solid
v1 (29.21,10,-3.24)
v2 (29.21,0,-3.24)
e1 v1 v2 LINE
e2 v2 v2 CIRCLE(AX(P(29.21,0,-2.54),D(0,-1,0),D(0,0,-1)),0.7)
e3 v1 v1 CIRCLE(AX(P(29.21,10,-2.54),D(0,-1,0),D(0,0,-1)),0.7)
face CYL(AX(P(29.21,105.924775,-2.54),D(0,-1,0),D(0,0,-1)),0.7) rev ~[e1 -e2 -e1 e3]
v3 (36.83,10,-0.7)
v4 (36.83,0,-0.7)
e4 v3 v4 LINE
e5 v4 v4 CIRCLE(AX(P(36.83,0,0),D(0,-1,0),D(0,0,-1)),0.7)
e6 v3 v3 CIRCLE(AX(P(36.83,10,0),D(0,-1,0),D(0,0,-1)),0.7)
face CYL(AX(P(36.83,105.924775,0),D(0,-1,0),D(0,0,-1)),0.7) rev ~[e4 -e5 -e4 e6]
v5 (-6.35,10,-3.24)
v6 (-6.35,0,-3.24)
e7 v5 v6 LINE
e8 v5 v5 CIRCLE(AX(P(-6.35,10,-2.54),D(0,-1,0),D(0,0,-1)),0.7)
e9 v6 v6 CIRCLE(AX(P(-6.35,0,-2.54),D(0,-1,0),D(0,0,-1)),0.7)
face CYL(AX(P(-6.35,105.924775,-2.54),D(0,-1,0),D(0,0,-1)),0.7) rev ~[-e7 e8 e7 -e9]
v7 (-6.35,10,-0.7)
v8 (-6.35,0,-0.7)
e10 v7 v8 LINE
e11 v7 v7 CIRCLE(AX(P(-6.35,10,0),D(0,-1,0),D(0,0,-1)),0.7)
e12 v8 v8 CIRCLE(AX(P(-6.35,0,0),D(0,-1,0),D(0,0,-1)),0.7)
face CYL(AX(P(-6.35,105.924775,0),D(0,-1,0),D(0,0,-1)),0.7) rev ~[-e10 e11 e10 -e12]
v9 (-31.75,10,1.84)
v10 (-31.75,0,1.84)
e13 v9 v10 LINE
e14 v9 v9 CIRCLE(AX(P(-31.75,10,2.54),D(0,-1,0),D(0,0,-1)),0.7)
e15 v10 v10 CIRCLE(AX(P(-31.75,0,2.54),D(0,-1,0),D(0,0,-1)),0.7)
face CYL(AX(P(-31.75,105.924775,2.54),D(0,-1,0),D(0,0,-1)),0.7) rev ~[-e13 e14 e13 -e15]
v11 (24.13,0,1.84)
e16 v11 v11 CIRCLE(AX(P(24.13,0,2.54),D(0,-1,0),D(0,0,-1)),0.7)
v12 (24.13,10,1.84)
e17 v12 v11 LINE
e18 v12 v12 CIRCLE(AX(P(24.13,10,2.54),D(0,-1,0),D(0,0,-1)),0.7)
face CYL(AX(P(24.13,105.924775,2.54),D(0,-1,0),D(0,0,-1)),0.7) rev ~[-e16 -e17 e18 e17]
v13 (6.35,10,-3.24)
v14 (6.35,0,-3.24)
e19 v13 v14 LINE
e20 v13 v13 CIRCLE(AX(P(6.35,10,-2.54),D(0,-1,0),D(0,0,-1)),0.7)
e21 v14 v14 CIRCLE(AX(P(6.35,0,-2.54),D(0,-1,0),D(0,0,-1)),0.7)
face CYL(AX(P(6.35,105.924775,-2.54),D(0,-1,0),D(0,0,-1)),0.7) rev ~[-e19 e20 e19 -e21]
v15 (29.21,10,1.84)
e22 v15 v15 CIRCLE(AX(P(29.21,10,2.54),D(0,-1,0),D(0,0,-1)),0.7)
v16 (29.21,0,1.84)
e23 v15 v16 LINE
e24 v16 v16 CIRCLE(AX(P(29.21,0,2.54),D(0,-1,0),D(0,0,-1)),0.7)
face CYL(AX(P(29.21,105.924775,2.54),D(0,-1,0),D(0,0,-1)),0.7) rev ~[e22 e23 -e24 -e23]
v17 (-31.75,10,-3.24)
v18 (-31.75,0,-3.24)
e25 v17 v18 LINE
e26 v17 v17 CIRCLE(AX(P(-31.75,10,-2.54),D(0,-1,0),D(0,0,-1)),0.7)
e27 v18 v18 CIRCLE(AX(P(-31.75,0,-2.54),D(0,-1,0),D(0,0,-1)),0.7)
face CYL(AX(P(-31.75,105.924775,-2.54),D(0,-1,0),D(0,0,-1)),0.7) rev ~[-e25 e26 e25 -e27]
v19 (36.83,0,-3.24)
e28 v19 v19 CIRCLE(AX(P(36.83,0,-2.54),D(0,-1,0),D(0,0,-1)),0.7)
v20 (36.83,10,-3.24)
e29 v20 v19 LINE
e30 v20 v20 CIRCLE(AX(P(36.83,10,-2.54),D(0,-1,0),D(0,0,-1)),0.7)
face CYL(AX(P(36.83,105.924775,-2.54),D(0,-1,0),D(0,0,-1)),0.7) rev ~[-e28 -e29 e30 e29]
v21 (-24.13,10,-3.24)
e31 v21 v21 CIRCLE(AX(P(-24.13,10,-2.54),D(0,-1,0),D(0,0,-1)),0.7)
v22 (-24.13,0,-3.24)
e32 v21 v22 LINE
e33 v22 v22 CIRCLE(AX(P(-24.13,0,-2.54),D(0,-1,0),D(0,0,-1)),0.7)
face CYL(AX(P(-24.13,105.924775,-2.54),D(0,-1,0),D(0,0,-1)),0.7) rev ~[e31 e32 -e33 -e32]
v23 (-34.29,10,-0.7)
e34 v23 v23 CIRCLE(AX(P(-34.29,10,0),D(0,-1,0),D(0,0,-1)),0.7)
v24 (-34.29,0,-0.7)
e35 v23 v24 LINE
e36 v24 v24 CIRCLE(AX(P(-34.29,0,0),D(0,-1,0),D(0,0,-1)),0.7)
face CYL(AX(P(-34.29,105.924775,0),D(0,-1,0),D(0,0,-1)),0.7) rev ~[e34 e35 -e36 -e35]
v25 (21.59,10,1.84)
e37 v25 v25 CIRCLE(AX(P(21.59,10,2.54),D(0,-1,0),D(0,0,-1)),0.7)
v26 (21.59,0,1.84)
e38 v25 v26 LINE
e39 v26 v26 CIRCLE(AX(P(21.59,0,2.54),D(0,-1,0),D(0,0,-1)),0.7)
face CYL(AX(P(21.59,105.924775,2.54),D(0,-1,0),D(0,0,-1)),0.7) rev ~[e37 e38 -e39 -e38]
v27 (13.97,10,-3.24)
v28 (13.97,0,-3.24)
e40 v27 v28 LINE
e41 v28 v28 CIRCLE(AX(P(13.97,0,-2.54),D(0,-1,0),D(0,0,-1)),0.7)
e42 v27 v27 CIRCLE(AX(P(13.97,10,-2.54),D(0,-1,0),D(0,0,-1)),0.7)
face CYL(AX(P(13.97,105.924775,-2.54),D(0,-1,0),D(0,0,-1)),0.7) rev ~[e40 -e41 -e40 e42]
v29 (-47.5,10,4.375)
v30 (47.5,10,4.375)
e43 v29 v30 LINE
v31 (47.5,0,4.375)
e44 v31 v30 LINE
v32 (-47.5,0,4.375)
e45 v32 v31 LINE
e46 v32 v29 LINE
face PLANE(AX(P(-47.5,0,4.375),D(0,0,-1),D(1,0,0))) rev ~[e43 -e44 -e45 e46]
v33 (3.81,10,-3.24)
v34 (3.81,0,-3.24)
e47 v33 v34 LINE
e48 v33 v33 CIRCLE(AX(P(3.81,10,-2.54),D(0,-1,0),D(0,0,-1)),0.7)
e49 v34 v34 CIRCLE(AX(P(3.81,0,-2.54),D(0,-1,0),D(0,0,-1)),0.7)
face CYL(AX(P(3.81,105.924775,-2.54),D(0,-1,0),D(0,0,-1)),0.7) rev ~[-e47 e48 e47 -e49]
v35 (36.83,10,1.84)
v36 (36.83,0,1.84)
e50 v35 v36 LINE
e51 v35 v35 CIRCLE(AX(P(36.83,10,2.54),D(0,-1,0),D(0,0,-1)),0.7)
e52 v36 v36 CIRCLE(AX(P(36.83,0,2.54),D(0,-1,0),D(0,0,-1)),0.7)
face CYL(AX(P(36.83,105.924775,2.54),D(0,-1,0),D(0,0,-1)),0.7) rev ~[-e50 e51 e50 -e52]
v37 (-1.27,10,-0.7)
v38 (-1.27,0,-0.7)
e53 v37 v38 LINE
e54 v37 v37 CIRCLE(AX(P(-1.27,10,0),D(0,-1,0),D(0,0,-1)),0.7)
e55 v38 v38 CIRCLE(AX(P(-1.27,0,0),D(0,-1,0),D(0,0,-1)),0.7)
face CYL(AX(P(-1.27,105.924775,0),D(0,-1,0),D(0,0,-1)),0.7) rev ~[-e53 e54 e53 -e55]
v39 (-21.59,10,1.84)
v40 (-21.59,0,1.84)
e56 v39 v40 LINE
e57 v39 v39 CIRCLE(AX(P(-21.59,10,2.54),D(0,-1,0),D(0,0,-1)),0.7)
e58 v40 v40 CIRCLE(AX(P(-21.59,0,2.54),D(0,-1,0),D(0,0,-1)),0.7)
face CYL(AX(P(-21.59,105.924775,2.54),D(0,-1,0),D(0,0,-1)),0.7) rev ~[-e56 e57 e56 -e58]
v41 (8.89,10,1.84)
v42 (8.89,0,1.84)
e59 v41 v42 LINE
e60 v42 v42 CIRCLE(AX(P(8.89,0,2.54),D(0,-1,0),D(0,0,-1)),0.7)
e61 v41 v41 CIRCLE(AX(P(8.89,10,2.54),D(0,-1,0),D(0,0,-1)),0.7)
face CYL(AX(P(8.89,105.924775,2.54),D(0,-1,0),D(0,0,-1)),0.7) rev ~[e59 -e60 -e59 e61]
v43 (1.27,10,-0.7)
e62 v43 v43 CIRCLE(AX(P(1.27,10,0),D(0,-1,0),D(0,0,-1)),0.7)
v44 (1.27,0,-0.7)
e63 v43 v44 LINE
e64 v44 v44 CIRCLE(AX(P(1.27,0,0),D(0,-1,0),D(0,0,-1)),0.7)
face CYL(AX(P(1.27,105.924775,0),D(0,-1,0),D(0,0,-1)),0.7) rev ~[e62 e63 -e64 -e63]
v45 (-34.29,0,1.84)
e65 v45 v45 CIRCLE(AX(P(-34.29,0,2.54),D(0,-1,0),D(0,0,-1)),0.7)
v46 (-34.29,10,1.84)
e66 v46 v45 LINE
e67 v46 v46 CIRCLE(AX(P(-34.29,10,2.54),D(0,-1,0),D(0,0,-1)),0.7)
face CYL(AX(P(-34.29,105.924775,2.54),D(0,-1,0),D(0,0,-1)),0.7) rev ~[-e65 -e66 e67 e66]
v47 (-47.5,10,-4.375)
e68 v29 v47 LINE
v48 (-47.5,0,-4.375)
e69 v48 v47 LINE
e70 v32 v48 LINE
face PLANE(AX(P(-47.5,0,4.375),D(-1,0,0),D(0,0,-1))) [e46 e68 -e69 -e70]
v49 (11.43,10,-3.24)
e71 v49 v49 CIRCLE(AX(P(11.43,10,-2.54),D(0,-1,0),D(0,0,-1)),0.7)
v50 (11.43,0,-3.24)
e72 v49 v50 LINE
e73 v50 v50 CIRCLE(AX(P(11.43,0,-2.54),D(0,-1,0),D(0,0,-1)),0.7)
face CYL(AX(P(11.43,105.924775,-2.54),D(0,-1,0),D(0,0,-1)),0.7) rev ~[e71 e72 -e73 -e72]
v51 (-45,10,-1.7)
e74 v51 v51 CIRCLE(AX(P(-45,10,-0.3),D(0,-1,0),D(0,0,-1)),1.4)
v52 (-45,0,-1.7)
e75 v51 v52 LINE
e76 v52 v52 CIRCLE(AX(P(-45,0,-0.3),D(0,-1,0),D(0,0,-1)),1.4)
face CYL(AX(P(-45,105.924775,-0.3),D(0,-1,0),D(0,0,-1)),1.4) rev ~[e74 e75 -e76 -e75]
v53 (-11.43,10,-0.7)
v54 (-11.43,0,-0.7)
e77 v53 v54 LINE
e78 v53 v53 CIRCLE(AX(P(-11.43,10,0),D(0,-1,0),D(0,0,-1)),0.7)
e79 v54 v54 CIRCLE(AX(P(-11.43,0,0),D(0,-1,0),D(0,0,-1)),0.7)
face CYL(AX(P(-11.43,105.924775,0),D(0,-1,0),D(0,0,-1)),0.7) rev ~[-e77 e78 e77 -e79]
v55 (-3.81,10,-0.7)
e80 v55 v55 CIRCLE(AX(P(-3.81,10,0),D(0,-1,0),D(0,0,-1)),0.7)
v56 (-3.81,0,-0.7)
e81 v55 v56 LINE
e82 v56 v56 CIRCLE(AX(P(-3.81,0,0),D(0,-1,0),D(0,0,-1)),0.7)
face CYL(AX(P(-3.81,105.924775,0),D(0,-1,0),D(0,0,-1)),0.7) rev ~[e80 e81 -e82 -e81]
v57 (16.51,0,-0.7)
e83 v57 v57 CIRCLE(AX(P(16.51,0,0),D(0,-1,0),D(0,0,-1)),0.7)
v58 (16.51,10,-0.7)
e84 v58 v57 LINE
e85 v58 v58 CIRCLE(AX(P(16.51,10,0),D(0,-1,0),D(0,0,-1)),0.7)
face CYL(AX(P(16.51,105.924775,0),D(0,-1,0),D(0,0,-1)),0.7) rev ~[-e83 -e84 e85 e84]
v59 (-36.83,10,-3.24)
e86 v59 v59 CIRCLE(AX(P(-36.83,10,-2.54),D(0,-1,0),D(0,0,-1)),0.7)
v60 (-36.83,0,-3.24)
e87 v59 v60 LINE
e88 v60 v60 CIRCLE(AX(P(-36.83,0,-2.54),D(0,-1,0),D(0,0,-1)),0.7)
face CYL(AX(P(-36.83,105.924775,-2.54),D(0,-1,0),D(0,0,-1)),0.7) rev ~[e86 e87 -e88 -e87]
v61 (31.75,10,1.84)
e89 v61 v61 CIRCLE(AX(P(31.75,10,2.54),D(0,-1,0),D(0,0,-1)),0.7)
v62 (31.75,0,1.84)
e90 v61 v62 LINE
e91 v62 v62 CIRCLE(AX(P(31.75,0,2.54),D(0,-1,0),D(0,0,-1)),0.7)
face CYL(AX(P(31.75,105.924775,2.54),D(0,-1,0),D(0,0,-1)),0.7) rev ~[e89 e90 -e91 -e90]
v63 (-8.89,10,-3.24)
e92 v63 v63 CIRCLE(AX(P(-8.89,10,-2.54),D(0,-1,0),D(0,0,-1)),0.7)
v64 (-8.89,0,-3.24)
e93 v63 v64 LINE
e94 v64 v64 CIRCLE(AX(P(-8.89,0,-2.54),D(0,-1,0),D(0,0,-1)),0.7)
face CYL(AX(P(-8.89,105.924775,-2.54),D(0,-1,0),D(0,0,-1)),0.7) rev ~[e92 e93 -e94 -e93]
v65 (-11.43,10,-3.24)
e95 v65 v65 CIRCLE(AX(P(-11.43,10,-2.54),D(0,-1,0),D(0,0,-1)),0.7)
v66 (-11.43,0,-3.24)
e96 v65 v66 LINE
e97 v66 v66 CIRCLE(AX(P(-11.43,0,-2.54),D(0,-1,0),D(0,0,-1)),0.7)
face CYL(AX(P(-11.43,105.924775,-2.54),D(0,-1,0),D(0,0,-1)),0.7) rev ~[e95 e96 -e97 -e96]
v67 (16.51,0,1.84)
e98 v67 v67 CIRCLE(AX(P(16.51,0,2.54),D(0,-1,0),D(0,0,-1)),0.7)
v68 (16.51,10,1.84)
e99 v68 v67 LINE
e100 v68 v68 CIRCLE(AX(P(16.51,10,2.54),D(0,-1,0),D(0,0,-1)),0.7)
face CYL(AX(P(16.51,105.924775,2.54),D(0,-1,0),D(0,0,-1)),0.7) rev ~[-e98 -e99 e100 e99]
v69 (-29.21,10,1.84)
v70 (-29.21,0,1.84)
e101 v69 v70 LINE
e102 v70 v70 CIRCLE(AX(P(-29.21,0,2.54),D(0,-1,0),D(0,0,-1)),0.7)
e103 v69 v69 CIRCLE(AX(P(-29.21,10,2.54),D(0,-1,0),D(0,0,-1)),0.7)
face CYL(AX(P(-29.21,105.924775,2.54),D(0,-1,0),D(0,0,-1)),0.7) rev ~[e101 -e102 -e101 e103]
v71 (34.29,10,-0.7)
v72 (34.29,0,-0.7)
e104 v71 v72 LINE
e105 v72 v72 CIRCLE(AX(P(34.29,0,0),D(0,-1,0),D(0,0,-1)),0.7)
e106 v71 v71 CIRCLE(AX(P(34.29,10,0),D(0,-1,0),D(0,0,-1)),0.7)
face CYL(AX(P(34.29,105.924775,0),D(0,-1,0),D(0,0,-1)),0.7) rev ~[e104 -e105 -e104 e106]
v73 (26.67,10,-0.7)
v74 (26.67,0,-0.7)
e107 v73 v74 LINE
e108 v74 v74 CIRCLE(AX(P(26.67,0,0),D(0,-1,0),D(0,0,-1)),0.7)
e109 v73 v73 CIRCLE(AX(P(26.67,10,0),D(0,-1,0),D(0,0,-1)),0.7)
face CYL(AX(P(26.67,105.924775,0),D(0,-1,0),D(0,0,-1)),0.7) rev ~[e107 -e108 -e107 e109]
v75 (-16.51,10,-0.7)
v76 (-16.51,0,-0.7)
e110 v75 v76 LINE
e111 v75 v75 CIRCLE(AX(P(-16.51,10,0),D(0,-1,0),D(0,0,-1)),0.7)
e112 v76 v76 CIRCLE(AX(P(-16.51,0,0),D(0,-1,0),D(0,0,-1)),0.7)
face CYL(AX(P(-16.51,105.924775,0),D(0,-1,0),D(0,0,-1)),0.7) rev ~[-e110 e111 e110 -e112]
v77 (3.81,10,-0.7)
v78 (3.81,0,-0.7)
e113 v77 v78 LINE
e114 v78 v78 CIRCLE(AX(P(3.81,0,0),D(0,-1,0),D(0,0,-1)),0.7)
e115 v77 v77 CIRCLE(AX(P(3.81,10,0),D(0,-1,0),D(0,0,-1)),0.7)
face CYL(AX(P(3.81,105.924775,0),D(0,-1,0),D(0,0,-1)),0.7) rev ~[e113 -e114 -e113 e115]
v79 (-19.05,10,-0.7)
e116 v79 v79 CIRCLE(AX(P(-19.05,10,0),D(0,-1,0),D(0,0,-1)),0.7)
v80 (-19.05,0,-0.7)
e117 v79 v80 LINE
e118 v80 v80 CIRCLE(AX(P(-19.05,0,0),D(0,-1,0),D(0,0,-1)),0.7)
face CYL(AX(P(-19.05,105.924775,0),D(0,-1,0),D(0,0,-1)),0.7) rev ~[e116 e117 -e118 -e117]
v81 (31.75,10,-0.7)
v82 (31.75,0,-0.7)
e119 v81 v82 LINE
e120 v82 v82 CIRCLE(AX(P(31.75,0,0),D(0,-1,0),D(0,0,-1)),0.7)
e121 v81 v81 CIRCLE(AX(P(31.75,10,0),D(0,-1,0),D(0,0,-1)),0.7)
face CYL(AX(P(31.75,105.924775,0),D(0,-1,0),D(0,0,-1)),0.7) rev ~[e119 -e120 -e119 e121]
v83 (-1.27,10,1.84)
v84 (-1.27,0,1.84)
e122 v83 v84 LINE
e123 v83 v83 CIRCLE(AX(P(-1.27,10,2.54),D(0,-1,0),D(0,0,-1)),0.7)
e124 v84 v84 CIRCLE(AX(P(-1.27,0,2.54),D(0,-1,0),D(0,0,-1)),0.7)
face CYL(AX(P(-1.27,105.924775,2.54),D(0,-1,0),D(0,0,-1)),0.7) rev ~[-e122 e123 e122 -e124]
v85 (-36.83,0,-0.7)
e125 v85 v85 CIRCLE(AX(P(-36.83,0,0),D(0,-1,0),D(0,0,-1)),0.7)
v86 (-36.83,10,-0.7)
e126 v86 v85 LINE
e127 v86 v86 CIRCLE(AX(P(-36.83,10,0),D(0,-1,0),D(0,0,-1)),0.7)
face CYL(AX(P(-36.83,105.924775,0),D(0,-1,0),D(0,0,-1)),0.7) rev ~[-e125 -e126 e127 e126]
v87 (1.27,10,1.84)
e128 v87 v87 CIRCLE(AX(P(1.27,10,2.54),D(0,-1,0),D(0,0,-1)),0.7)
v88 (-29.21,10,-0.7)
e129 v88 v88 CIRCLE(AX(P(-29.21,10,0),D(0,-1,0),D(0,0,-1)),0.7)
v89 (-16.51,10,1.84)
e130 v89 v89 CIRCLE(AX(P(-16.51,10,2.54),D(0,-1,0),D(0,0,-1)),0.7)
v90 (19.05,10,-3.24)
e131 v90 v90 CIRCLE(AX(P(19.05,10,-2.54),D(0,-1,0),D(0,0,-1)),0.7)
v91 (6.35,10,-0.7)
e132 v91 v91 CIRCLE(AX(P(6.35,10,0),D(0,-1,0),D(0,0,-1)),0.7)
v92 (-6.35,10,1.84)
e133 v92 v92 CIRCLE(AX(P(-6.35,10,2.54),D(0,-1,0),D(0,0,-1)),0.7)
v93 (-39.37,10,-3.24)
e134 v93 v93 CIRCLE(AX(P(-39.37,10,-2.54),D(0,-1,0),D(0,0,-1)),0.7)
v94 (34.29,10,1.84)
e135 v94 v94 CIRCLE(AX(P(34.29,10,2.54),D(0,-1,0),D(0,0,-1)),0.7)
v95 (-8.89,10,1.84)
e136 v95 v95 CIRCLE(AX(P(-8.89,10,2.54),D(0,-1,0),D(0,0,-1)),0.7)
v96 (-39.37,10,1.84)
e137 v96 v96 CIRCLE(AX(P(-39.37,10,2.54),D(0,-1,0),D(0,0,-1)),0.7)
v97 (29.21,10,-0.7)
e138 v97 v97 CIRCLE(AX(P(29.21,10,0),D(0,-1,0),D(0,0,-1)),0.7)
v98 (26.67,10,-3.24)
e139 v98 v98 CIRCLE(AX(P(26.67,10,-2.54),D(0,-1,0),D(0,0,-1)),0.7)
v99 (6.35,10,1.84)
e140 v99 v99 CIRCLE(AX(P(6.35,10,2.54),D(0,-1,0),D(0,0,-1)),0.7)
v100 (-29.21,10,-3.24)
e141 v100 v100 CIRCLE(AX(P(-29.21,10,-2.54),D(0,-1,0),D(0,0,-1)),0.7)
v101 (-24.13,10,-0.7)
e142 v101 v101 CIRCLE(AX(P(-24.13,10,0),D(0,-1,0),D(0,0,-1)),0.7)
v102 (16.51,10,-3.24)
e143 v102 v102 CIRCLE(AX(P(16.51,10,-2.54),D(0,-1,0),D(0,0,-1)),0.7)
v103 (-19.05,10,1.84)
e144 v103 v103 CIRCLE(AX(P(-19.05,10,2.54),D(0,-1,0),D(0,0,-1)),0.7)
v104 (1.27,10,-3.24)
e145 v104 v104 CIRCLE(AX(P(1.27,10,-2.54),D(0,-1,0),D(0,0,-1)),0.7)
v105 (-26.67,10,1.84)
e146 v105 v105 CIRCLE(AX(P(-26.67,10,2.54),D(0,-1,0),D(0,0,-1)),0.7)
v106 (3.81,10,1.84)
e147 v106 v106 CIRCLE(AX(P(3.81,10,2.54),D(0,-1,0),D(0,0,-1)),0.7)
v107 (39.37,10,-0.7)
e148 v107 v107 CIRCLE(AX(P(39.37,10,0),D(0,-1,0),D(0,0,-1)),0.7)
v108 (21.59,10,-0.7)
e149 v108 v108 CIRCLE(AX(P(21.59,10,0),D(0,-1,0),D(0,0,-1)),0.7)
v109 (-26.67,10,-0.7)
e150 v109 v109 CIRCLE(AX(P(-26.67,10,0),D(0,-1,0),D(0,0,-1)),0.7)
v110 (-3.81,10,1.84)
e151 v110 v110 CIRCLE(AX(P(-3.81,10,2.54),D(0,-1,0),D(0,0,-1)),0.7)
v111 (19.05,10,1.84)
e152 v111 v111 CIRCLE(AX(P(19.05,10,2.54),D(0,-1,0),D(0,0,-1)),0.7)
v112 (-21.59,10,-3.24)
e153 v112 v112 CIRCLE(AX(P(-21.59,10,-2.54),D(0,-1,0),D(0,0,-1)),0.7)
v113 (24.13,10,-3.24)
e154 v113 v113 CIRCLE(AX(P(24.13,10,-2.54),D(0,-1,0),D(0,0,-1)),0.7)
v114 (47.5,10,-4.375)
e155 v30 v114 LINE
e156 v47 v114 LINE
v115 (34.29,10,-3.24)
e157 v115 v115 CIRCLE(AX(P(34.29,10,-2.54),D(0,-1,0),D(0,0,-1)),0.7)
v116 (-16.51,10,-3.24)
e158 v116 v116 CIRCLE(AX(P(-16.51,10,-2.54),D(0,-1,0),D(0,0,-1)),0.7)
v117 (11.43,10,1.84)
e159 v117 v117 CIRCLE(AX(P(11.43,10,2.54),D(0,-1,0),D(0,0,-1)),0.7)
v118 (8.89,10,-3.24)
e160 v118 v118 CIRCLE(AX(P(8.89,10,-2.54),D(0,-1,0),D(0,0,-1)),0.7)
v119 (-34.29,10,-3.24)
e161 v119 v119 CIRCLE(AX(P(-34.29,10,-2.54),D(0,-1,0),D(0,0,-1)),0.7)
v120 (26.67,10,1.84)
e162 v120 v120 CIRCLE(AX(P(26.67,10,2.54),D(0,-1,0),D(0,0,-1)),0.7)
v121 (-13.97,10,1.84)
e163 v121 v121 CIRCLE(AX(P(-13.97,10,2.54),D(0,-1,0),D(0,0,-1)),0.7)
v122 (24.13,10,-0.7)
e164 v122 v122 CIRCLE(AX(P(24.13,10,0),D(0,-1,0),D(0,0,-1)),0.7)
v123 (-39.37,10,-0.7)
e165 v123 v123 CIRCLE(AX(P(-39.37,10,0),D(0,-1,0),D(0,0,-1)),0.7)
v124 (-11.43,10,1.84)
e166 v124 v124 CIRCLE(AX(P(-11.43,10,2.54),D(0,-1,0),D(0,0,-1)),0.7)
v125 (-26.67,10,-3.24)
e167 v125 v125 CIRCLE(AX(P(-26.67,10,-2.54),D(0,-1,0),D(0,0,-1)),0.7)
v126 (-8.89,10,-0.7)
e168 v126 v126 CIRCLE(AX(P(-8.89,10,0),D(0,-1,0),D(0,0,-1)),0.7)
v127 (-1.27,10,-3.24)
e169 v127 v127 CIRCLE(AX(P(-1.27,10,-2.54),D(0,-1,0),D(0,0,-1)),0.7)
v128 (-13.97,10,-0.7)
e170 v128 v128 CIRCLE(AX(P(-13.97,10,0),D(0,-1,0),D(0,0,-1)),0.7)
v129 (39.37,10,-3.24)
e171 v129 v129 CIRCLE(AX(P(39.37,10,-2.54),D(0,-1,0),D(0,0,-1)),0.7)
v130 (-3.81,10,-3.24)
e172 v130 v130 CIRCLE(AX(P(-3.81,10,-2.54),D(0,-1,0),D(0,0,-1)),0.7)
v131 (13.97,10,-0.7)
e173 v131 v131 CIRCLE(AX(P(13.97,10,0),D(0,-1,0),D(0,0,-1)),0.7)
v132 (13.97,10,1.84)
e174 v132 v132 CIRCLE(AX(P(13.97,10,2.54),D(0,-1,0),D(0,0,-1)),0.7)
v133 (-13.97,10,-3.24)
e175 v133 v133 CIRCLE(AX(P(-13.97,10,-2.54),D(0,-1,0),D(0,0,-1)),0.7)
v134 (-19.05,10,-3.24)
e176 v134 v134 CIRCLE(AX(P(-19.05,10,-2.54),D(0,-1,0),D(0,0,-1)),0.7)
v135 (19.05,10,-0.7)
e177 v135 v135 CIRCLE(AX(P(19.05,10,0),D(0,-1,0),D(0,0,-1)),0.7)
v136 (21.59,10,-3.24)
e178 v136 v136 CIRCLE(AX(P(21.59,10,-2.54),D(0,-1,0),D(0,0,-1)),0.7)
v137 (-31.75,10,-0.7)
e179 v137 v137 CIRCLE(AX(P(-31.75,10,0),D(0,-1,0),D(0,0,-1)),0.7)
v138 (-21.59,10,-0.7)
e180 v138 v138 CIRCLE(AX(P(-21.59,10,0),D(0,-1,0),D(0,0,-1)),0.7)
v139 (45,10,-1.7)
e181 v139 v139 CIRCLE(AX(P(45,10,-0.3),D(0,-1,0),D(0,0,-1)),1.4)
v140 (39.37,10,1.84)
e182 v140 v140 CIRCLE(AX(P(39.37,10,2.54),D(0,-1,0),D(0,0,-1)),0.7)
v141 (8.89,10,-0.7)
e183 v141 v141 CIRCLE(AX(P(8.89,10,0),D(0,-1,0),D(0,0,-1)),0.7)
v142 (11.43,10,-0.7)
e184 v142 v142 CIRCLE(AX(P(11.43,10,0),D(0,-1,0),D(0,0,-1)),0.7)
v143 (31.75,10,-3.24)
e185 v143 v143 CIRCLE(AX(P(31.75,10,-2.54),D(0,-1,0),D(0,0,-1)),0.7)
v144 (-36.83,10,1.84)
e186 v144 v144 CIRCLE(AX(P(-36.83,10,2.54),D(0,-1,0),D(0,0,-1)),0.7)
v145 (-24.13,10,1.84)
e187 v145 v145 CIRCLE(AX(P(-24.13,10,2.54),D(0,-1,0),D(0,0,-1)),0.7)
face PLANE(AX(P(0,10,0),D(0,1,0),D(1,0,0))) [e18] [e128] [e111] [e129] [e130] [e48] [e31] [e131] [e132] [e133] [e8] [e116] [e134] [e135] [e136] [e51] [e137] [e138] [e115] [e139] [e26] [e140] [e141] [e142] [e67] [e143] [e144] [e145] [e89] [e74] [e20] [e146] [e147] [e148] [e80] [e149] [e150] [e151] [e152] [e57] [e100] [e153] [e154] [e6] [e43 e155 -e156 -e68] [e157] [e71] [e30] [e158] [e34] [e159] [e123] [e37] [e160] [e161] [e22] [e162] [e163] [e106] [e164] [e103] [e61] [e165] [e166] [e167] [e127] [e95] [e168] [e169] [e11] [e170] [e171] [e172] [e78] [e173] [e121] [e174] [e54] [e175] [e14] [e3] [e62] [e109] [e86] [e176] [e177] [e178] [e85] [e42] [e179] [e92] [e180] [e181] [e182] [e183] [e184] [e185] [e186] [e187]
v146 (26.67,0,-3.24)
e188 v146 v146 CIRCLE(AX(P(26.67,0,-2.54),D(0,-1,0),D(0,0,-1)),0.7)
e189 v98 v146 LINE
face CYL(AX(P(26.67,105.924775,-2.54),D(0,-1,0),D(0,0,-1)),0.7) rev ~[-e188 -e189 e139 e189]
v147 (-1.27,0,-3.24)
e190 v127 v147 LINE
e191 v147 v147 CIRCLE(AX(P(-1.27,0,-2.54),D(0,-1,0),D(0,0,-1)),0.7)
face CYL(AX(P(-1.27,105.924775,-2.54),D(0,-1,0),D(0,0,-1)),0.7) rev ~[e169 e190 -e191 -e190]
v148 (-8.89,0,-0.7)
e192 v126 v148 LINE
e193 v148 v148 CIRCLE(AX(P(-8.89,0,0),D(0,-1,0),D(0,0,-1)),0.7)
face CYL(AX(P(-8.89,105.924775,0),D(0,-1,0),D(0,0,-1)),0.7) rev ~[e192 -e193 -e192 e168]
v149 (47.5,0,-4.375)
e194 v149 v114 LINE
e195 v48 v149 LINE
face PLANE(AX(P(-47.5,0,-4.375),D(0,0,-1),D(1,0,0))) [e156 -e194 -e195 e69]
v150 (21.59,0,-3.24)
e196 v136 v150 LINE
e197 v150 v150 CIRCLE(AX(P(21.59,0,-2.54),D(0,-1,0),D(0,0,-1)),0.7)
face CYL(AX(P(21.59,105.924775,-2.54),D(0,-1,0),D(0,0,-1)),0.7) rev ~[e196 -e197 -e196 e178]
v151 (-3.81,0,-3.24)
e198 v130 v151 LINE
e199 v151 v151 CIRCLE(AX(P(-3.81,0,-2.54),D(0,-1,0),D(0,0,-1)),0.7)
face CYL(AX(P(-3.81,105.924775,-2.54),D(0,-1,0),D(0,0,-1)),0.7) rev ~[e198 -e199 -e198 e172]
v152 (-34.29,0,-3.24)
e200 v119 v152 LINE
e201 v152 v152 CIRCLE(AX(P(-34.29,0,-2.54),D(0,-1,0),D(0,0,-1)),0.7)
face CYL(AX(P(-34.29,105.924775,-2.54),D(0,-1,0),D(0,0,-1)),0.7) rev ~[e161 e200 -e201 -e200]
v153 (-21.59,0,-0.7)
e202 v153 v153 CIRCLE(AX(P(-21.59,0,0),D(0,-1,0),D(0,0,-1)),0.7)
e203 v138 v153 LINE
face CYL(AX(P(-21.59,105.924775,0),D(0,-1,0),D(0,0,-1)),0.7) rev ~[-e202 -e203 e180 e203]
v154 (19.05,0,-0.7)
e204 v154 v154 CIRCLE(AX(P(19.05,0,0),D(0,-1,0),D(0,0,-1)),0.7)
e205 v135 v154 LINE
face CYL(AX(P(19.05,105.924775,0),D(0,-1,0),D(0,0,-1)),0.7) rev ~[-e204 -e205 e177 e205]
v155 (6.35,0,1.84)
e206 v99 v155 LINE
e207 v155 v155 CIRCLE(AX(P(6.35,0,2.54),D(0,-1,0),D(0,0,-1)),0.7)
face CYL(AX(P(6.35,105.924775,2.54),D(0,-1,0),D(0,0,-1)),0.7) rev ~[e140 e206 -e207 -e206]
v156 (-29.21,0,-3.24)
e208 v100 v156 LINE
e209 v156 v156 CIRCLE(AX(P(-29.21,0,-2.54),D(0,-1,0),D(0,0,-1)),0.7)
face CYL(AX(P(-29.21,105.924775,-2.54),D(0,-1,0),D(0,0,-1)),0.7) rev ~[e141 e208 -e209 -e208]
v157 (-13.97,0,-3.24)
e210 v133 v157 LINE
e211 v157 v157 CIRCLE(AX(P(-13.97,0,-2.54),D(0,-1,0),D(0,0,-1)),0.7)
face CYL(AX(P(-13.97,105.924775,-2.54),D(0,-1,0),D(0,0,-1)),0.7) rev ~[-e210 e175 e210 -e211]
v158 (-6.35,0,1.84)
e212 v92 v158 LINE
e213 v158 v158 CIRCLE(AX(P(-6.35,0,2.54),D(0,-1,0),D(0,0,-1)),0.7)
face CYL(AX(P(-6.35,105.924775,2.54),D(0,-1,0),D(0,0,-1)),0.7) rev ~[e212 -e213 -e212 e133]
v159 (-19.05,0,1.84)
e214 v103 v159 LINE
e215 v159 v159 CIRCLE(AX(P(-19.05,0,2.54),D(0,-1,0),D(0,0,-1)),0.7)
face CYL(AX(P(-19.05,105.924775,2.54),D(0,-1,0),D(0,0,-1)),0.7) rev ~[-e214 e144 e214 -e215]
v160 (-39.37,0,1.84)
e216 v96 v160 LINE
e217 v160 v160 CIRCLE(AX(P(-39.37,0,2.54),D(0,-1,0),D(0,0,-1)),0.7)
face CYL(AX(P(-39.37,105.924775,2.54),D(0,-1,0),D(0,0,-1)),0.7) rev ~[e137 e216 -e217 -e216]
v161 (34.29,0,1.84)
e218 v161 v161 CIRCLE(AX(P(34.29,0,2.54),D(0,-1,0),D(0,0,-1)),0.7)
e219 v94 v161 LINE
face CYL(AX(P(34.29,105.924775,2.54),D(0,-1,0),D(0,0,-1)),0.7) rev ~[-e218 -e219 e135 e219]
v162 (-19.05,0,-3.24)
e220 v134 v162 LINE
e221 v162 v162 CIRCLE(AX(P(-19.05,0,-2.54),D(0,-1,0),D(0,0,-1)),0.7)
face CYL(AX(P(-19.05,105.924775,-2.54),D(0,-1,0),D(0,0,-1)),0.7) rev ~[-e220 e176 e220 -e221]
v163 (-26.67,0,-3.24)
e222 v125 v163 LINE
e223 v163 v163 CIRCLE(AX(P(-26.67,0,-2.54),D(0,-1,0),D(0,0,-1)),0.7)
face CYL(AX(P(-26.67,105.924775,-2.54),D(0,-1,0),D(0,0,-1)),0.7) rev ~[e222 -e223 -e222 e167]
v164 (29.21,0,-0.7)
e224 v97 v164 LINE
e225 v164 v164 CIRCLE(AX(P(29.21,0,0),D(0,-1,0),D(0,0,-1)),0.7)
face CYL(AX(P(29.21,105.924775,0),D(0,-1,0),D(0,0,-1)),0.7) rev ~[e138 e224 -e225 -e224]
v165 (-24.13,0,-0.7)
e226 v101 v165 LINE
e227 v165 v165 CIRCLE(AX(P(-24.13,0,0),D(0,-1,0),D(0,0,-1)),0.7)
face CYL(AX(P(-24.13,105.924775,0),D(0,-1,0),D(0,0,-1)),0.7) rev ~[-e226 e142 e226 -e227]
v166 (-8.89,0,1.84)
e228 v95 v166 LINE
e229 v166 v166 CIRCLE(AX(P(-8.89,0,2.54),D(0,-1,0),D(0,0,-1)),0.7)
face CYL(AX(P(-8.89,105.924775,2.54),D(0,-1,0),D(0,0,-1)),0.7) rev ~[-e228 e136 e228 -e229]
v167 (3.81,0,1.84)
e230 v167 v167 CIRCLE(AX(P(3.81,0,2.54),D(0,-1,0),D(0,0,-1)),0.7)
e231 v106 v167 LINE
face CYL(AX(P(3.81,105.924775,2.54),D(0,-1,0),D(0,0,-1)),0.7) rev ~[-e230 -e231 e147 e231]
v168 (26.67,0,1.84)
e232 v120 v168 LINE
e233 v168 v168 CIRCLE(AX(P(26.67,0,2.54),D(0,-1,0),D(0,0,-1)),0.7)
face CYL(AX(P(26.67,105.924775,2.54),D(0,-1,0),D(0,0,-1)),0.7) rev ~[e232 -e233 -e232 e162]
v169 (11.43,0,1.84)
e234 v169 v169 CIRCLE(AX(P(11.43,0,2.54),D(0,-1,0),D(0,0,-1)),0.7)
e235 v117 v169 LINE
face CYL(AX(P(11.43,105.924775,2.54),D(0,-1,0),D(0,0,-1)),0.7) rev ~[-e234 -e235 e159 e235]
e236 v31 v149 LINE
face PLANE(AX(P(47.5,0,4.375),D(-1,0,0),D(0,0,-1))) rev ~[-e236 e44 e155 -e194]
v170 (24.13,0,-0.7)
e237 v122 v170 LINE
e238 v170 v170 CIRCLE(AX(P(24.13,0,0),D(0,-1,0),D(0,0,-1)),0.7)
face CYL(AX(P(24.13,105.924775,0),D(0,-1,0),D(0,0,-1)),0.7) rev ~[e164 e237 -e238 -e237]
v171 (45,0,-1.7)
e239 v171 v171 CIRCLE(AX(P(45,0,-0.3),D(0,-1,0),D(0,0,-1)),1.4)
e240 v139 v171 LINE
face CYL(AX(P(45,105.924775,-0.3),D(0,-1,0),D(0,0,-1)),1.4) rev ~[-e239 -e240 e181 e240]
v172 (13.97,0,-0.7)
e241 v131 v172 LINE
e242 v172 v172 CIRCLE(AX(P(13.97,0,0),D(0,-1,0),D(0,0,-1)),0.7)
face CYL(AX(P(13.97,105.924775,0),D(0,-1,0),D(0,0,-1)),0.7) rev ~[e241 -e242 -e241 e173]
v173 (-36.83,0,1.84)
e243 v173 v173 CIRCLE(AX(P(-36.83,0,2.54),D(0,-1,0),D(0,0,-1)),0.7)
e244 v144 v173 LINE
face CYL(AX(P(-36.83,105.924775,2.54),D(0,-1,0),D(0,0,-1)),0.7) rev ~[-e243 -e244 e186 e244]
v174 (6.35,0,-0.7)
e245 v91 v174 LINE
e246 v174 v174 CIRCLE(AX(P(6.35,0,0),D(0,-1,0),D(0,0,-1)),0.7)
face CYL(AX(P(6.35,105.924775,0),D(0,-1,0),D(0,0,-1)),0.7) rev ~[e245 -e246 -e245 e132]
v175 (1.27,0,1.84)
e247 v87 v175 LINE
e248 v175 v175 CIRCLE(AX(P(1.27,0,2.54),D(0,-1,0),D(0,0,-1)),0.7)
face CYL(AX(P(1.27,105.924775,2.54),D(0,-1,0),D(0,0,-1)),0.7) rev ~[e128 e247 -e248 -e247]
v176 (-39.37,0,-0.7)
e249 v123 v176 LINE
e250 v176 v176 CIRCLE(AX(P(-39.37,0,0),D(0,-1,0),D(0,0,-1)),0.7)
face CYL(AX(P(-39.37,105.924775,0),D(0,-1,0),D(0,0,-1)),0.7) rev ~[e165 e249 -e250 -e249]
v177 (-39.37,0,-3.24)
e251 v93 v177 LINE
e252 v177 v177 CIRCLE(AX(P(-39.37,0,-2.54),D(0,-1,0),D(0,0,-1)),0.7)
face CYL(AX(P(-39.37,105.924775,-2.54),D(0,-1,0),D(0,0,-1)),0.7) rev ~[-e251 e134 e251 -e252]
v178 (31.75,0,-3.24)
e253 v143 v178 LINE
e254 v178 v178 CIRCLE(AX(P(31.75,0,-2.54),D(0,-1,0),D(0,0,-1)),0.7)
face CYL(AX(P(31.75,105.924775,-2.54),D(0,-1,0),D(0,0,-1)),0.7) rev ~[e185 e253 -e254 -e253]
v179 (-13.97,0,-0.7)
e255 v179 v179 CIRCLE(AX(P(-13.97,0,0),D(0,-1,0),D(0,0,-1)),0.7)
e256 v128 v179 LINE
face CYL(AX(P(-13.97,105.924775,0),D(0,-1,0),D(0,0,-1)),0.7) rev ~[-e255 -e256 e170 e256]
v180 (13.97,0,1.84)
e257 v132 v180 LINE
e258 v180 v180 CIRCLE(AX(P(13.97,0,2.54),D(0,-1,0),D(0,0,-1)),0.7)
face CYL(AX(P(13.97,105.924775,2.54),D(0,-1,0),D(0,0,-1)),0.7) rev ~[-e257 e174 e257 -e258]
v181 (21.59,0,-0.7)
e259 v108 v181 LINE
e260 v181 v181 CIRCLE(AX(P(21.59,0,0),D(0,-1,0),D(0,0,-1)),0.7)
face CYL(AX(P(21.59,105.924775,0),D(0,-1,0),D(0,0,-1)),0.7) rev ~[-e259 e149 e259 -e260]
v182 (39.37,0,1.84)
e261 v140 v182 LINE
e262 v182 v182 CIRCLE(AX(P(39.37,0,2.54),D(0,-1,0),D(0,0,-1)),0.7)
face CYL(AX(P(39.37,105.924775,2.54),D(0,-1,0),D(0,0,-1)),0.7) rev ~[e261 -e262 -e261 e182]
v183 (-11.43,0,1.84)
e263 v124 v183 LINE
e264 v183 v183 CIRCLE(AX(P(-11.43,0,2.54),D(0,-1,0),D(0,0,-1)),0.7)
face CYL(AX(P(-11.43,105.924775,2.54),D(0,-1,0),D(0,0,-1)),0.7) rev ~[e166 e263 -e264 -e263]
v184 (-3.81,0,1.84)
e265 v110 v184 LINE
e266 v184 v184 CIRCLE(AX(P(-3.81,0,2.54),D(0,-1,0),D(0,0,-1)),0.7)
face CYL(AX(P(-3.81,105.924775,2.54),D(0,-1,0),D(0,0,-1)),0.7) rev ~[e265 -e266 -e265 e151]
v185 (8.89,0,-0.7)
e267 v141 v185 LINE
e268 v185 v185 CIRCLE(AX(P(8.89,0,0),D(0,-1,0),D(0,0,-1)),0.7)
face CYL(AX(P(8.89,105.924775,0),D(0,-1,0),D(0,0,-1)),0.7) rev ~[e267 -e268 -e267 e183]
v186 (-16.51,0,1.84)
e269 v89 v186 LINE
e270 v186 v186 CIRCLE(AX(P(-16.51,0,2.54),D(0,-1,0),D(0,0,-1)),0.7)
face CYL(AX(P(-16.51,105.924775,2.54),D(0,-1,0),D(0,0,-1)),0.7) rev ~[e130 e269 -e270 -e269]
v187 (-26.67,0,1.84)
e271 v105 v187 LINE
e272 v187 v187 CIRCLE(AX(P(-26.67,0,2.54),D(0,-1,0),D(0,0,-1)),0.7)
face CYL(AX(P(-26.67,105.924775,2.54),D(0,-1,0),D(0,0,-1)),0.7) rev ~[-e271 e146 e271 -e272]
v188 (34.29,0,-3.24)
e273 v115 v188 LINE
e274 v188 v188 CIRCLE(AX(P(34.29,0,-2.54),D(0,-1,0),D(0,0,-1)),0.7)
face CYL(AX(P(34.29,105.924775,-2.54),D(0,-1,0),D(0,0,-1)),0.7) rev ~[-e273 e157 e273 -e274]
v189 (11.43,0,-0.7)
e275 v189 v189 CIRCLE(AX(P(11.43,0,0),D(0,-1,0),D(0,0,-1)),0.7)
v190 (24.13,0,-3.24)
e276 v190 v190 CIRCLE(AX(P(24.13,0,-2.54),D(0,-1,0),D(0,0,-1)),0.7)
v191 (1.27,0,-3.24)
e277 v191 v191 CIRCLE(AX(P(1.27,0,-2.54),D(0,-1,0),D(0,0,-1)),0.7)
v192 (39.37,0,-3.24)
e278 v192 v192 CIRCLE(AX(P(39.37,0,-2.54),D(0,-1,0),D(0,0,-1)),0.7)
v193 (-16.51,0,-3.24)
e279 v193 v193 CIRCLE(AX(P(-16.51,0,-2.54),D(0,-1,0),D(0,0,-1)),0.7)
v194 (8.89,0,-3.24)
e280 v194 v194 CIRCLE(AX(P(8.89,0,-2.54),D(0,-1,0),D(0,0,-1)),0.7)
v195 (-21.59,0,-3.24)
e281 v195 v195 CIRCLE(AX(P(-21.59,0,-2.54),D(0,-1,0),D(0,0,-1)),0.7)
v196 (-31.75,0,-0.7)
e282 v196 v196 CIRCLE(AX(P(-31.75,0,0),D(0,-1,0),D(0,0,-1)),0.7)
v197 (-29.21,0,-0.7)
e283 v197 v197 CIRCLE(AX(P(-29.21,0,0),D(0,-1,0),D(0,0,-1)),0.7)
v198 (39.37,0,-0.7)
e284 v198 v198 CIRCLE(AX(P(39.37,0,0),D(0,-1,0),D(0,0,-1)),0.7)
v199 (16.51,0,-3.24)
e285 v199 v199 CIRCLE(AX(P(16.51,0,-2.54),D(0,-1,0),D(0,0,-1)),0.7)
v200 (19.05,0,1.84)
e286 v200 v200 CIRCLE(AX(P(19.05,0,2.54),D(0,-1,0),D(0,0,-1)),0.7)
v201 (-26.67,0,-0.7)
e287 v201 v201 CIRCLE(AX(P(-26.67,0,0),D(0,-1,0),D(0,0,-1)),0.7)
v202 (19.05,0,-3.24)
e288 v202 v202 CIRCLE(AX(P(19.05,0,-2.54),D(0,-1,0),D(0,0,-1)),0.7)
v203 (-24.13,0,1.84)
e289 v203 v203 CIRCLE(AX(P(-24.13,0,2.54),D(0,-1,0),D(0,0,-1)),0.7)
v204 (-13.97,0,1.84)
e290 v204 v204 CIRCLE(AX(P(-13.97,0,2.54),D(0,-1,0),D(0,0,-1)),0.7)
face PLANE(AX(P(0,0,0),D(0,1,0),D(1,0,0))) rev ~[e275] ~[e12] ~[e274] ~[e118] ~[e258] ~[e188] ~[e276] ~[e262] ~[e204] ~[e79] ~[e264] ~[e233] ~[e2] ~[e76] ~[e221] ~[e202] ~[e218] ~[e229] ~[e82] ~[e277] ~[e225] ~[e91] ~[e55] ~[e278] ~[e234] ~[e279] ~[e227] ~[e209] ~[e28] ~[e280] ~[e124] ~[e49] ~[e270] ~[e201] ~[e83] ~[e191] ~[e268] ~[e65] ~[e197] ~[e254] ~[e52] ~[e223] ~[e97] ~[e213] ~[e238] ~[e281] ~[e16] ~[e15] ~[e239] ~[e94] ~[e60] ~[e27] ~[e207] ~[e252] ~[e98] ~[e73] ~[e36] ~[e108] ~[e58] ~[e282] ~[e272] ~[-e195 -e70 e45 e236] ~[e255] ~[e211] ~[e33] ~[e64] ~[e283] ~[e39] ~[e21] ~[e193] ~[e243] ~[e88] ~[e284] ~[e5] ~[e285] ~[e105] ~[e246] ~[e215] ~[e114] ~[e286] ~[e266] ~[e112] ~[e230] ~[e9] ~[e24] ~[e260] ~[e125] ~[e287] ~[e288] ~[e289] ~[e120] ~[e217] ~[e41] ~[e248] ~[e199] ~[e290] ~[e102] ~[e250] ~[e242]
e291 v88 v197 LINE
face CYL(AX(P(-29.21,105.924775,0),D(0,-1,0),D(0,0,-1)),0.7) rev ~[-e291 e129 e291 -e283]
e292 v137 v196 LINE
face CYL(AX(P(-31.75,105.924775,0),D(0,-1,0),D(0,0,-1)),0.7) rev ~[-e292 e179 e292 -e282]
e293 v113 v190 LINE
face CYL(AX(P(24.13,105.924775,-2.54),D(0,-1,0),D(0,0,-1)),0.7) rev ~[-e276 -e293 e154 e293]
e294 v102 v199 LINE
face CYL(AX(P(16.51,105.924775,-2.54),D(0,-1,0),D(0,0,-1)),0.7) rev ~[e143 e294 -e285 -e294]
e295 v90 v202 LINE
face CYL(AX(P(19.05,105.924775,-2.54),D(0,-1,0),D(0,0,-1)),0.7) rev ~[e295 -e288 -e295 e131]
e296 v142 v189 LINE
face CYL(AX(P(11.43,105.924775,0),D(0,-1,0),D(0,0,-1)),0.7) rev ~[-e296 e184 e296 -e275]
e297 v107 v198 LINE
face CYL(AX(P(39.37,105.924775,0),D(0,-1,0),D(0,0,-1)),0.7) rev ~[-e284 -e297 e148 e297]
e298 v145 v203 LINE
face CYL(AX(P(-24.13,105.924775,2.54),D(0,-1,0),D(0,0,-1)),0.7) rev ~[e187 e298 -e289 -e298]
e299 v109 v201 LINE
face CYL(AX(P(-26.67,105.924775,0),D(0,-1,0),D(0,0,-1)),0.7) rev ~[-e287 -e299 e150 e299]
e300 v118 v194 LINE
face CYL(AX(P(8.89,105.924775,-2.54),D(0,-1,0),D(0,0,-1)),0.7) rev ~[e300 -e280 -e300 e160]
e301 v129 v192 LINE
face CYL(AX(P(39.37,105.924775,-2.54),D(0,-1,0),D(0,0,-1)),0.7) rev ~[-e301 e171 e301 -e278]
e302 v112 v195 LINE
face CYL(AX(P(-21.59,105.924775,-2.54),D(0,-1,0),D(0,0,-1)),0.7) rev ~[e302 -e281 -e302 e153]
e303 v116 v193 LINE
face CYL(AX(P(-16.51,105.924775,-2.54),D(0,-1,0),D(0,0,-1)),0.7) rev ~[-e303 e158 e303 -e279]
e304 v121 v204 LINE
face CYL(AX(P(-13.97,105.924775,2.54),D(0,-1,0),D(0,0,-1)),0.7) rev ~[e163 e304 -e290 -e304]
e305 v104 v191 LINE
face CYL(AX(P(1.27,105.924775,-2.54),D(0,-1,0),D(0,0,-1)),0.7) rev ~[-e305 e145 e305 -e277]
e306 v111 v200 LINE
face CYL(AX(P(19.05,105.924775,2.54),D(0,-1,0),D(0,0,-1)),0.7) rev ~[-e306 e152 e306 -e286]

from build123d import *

# Parameters (mm, degrees)
SKETCH1_W                  = 95
SKETCH1_H                  = 8.75
BOSS_EXTRUDE1_DEPTH        = 10
F_2_8_2_8_DIAMETER_HOLE1_D = 2.8
F_1_4_1_4_DIAMETER_HOLE1_D = 1.4
LPATTERN1_COUNT            = 32
LPATTERN1_PITCH            = 2.54


with BuildPart() as part:
    # Sketch1 → Boss-Extrude1 (new body)
    with BuildSketch(Plane(origin=(0, 0, 0), x_dir=(1, 0, 0), z_dir=(0, 1, 0))):
        Rectangle(SKETCH1_W, SKETCH1_H)
    extrude(amount=BOSS_EXTRUDE1_DEPTH)

    # Ø2.8 (2.8) Diameter Hole1 (through all)
    with Locations(Plane(origin=(-45, 10, -0.3), x_dir=(0, 0, 1), z_dir=(0, 1, 0))):
        with Locations((0, 0), (0, 90)):
            Hole(F_2_8_2_8_DIAMETER_HOLE1_D / 2)

    # Ø1.4 (1.4) Diameter Hole1 (through all)
    with Locations(Plane(origin=(-39.37, 10, -2.54), x_dir=(0, 0, 1), z_dir=(0, 1, 0))):
        with Locations((0, 0), (2.54, 0), (5.08, 0)):
            f_1_4_1_4_diameter_hole1 = Hole(F_1_4_1_4_DIAMETER_HOLE1_D / 2)

    # LPattern1: Ø1.4 (1.4) Diameter Hole1 ×32
    with Locations(*[(i * LPATTERN1_PITCH, 0, 0) for i in range(1, LPATTERN1_COUNT)]):
        add(f_1_4_1_4_diameter_hole1, mode=Mode.SUBTRACT)


solid = part.part
